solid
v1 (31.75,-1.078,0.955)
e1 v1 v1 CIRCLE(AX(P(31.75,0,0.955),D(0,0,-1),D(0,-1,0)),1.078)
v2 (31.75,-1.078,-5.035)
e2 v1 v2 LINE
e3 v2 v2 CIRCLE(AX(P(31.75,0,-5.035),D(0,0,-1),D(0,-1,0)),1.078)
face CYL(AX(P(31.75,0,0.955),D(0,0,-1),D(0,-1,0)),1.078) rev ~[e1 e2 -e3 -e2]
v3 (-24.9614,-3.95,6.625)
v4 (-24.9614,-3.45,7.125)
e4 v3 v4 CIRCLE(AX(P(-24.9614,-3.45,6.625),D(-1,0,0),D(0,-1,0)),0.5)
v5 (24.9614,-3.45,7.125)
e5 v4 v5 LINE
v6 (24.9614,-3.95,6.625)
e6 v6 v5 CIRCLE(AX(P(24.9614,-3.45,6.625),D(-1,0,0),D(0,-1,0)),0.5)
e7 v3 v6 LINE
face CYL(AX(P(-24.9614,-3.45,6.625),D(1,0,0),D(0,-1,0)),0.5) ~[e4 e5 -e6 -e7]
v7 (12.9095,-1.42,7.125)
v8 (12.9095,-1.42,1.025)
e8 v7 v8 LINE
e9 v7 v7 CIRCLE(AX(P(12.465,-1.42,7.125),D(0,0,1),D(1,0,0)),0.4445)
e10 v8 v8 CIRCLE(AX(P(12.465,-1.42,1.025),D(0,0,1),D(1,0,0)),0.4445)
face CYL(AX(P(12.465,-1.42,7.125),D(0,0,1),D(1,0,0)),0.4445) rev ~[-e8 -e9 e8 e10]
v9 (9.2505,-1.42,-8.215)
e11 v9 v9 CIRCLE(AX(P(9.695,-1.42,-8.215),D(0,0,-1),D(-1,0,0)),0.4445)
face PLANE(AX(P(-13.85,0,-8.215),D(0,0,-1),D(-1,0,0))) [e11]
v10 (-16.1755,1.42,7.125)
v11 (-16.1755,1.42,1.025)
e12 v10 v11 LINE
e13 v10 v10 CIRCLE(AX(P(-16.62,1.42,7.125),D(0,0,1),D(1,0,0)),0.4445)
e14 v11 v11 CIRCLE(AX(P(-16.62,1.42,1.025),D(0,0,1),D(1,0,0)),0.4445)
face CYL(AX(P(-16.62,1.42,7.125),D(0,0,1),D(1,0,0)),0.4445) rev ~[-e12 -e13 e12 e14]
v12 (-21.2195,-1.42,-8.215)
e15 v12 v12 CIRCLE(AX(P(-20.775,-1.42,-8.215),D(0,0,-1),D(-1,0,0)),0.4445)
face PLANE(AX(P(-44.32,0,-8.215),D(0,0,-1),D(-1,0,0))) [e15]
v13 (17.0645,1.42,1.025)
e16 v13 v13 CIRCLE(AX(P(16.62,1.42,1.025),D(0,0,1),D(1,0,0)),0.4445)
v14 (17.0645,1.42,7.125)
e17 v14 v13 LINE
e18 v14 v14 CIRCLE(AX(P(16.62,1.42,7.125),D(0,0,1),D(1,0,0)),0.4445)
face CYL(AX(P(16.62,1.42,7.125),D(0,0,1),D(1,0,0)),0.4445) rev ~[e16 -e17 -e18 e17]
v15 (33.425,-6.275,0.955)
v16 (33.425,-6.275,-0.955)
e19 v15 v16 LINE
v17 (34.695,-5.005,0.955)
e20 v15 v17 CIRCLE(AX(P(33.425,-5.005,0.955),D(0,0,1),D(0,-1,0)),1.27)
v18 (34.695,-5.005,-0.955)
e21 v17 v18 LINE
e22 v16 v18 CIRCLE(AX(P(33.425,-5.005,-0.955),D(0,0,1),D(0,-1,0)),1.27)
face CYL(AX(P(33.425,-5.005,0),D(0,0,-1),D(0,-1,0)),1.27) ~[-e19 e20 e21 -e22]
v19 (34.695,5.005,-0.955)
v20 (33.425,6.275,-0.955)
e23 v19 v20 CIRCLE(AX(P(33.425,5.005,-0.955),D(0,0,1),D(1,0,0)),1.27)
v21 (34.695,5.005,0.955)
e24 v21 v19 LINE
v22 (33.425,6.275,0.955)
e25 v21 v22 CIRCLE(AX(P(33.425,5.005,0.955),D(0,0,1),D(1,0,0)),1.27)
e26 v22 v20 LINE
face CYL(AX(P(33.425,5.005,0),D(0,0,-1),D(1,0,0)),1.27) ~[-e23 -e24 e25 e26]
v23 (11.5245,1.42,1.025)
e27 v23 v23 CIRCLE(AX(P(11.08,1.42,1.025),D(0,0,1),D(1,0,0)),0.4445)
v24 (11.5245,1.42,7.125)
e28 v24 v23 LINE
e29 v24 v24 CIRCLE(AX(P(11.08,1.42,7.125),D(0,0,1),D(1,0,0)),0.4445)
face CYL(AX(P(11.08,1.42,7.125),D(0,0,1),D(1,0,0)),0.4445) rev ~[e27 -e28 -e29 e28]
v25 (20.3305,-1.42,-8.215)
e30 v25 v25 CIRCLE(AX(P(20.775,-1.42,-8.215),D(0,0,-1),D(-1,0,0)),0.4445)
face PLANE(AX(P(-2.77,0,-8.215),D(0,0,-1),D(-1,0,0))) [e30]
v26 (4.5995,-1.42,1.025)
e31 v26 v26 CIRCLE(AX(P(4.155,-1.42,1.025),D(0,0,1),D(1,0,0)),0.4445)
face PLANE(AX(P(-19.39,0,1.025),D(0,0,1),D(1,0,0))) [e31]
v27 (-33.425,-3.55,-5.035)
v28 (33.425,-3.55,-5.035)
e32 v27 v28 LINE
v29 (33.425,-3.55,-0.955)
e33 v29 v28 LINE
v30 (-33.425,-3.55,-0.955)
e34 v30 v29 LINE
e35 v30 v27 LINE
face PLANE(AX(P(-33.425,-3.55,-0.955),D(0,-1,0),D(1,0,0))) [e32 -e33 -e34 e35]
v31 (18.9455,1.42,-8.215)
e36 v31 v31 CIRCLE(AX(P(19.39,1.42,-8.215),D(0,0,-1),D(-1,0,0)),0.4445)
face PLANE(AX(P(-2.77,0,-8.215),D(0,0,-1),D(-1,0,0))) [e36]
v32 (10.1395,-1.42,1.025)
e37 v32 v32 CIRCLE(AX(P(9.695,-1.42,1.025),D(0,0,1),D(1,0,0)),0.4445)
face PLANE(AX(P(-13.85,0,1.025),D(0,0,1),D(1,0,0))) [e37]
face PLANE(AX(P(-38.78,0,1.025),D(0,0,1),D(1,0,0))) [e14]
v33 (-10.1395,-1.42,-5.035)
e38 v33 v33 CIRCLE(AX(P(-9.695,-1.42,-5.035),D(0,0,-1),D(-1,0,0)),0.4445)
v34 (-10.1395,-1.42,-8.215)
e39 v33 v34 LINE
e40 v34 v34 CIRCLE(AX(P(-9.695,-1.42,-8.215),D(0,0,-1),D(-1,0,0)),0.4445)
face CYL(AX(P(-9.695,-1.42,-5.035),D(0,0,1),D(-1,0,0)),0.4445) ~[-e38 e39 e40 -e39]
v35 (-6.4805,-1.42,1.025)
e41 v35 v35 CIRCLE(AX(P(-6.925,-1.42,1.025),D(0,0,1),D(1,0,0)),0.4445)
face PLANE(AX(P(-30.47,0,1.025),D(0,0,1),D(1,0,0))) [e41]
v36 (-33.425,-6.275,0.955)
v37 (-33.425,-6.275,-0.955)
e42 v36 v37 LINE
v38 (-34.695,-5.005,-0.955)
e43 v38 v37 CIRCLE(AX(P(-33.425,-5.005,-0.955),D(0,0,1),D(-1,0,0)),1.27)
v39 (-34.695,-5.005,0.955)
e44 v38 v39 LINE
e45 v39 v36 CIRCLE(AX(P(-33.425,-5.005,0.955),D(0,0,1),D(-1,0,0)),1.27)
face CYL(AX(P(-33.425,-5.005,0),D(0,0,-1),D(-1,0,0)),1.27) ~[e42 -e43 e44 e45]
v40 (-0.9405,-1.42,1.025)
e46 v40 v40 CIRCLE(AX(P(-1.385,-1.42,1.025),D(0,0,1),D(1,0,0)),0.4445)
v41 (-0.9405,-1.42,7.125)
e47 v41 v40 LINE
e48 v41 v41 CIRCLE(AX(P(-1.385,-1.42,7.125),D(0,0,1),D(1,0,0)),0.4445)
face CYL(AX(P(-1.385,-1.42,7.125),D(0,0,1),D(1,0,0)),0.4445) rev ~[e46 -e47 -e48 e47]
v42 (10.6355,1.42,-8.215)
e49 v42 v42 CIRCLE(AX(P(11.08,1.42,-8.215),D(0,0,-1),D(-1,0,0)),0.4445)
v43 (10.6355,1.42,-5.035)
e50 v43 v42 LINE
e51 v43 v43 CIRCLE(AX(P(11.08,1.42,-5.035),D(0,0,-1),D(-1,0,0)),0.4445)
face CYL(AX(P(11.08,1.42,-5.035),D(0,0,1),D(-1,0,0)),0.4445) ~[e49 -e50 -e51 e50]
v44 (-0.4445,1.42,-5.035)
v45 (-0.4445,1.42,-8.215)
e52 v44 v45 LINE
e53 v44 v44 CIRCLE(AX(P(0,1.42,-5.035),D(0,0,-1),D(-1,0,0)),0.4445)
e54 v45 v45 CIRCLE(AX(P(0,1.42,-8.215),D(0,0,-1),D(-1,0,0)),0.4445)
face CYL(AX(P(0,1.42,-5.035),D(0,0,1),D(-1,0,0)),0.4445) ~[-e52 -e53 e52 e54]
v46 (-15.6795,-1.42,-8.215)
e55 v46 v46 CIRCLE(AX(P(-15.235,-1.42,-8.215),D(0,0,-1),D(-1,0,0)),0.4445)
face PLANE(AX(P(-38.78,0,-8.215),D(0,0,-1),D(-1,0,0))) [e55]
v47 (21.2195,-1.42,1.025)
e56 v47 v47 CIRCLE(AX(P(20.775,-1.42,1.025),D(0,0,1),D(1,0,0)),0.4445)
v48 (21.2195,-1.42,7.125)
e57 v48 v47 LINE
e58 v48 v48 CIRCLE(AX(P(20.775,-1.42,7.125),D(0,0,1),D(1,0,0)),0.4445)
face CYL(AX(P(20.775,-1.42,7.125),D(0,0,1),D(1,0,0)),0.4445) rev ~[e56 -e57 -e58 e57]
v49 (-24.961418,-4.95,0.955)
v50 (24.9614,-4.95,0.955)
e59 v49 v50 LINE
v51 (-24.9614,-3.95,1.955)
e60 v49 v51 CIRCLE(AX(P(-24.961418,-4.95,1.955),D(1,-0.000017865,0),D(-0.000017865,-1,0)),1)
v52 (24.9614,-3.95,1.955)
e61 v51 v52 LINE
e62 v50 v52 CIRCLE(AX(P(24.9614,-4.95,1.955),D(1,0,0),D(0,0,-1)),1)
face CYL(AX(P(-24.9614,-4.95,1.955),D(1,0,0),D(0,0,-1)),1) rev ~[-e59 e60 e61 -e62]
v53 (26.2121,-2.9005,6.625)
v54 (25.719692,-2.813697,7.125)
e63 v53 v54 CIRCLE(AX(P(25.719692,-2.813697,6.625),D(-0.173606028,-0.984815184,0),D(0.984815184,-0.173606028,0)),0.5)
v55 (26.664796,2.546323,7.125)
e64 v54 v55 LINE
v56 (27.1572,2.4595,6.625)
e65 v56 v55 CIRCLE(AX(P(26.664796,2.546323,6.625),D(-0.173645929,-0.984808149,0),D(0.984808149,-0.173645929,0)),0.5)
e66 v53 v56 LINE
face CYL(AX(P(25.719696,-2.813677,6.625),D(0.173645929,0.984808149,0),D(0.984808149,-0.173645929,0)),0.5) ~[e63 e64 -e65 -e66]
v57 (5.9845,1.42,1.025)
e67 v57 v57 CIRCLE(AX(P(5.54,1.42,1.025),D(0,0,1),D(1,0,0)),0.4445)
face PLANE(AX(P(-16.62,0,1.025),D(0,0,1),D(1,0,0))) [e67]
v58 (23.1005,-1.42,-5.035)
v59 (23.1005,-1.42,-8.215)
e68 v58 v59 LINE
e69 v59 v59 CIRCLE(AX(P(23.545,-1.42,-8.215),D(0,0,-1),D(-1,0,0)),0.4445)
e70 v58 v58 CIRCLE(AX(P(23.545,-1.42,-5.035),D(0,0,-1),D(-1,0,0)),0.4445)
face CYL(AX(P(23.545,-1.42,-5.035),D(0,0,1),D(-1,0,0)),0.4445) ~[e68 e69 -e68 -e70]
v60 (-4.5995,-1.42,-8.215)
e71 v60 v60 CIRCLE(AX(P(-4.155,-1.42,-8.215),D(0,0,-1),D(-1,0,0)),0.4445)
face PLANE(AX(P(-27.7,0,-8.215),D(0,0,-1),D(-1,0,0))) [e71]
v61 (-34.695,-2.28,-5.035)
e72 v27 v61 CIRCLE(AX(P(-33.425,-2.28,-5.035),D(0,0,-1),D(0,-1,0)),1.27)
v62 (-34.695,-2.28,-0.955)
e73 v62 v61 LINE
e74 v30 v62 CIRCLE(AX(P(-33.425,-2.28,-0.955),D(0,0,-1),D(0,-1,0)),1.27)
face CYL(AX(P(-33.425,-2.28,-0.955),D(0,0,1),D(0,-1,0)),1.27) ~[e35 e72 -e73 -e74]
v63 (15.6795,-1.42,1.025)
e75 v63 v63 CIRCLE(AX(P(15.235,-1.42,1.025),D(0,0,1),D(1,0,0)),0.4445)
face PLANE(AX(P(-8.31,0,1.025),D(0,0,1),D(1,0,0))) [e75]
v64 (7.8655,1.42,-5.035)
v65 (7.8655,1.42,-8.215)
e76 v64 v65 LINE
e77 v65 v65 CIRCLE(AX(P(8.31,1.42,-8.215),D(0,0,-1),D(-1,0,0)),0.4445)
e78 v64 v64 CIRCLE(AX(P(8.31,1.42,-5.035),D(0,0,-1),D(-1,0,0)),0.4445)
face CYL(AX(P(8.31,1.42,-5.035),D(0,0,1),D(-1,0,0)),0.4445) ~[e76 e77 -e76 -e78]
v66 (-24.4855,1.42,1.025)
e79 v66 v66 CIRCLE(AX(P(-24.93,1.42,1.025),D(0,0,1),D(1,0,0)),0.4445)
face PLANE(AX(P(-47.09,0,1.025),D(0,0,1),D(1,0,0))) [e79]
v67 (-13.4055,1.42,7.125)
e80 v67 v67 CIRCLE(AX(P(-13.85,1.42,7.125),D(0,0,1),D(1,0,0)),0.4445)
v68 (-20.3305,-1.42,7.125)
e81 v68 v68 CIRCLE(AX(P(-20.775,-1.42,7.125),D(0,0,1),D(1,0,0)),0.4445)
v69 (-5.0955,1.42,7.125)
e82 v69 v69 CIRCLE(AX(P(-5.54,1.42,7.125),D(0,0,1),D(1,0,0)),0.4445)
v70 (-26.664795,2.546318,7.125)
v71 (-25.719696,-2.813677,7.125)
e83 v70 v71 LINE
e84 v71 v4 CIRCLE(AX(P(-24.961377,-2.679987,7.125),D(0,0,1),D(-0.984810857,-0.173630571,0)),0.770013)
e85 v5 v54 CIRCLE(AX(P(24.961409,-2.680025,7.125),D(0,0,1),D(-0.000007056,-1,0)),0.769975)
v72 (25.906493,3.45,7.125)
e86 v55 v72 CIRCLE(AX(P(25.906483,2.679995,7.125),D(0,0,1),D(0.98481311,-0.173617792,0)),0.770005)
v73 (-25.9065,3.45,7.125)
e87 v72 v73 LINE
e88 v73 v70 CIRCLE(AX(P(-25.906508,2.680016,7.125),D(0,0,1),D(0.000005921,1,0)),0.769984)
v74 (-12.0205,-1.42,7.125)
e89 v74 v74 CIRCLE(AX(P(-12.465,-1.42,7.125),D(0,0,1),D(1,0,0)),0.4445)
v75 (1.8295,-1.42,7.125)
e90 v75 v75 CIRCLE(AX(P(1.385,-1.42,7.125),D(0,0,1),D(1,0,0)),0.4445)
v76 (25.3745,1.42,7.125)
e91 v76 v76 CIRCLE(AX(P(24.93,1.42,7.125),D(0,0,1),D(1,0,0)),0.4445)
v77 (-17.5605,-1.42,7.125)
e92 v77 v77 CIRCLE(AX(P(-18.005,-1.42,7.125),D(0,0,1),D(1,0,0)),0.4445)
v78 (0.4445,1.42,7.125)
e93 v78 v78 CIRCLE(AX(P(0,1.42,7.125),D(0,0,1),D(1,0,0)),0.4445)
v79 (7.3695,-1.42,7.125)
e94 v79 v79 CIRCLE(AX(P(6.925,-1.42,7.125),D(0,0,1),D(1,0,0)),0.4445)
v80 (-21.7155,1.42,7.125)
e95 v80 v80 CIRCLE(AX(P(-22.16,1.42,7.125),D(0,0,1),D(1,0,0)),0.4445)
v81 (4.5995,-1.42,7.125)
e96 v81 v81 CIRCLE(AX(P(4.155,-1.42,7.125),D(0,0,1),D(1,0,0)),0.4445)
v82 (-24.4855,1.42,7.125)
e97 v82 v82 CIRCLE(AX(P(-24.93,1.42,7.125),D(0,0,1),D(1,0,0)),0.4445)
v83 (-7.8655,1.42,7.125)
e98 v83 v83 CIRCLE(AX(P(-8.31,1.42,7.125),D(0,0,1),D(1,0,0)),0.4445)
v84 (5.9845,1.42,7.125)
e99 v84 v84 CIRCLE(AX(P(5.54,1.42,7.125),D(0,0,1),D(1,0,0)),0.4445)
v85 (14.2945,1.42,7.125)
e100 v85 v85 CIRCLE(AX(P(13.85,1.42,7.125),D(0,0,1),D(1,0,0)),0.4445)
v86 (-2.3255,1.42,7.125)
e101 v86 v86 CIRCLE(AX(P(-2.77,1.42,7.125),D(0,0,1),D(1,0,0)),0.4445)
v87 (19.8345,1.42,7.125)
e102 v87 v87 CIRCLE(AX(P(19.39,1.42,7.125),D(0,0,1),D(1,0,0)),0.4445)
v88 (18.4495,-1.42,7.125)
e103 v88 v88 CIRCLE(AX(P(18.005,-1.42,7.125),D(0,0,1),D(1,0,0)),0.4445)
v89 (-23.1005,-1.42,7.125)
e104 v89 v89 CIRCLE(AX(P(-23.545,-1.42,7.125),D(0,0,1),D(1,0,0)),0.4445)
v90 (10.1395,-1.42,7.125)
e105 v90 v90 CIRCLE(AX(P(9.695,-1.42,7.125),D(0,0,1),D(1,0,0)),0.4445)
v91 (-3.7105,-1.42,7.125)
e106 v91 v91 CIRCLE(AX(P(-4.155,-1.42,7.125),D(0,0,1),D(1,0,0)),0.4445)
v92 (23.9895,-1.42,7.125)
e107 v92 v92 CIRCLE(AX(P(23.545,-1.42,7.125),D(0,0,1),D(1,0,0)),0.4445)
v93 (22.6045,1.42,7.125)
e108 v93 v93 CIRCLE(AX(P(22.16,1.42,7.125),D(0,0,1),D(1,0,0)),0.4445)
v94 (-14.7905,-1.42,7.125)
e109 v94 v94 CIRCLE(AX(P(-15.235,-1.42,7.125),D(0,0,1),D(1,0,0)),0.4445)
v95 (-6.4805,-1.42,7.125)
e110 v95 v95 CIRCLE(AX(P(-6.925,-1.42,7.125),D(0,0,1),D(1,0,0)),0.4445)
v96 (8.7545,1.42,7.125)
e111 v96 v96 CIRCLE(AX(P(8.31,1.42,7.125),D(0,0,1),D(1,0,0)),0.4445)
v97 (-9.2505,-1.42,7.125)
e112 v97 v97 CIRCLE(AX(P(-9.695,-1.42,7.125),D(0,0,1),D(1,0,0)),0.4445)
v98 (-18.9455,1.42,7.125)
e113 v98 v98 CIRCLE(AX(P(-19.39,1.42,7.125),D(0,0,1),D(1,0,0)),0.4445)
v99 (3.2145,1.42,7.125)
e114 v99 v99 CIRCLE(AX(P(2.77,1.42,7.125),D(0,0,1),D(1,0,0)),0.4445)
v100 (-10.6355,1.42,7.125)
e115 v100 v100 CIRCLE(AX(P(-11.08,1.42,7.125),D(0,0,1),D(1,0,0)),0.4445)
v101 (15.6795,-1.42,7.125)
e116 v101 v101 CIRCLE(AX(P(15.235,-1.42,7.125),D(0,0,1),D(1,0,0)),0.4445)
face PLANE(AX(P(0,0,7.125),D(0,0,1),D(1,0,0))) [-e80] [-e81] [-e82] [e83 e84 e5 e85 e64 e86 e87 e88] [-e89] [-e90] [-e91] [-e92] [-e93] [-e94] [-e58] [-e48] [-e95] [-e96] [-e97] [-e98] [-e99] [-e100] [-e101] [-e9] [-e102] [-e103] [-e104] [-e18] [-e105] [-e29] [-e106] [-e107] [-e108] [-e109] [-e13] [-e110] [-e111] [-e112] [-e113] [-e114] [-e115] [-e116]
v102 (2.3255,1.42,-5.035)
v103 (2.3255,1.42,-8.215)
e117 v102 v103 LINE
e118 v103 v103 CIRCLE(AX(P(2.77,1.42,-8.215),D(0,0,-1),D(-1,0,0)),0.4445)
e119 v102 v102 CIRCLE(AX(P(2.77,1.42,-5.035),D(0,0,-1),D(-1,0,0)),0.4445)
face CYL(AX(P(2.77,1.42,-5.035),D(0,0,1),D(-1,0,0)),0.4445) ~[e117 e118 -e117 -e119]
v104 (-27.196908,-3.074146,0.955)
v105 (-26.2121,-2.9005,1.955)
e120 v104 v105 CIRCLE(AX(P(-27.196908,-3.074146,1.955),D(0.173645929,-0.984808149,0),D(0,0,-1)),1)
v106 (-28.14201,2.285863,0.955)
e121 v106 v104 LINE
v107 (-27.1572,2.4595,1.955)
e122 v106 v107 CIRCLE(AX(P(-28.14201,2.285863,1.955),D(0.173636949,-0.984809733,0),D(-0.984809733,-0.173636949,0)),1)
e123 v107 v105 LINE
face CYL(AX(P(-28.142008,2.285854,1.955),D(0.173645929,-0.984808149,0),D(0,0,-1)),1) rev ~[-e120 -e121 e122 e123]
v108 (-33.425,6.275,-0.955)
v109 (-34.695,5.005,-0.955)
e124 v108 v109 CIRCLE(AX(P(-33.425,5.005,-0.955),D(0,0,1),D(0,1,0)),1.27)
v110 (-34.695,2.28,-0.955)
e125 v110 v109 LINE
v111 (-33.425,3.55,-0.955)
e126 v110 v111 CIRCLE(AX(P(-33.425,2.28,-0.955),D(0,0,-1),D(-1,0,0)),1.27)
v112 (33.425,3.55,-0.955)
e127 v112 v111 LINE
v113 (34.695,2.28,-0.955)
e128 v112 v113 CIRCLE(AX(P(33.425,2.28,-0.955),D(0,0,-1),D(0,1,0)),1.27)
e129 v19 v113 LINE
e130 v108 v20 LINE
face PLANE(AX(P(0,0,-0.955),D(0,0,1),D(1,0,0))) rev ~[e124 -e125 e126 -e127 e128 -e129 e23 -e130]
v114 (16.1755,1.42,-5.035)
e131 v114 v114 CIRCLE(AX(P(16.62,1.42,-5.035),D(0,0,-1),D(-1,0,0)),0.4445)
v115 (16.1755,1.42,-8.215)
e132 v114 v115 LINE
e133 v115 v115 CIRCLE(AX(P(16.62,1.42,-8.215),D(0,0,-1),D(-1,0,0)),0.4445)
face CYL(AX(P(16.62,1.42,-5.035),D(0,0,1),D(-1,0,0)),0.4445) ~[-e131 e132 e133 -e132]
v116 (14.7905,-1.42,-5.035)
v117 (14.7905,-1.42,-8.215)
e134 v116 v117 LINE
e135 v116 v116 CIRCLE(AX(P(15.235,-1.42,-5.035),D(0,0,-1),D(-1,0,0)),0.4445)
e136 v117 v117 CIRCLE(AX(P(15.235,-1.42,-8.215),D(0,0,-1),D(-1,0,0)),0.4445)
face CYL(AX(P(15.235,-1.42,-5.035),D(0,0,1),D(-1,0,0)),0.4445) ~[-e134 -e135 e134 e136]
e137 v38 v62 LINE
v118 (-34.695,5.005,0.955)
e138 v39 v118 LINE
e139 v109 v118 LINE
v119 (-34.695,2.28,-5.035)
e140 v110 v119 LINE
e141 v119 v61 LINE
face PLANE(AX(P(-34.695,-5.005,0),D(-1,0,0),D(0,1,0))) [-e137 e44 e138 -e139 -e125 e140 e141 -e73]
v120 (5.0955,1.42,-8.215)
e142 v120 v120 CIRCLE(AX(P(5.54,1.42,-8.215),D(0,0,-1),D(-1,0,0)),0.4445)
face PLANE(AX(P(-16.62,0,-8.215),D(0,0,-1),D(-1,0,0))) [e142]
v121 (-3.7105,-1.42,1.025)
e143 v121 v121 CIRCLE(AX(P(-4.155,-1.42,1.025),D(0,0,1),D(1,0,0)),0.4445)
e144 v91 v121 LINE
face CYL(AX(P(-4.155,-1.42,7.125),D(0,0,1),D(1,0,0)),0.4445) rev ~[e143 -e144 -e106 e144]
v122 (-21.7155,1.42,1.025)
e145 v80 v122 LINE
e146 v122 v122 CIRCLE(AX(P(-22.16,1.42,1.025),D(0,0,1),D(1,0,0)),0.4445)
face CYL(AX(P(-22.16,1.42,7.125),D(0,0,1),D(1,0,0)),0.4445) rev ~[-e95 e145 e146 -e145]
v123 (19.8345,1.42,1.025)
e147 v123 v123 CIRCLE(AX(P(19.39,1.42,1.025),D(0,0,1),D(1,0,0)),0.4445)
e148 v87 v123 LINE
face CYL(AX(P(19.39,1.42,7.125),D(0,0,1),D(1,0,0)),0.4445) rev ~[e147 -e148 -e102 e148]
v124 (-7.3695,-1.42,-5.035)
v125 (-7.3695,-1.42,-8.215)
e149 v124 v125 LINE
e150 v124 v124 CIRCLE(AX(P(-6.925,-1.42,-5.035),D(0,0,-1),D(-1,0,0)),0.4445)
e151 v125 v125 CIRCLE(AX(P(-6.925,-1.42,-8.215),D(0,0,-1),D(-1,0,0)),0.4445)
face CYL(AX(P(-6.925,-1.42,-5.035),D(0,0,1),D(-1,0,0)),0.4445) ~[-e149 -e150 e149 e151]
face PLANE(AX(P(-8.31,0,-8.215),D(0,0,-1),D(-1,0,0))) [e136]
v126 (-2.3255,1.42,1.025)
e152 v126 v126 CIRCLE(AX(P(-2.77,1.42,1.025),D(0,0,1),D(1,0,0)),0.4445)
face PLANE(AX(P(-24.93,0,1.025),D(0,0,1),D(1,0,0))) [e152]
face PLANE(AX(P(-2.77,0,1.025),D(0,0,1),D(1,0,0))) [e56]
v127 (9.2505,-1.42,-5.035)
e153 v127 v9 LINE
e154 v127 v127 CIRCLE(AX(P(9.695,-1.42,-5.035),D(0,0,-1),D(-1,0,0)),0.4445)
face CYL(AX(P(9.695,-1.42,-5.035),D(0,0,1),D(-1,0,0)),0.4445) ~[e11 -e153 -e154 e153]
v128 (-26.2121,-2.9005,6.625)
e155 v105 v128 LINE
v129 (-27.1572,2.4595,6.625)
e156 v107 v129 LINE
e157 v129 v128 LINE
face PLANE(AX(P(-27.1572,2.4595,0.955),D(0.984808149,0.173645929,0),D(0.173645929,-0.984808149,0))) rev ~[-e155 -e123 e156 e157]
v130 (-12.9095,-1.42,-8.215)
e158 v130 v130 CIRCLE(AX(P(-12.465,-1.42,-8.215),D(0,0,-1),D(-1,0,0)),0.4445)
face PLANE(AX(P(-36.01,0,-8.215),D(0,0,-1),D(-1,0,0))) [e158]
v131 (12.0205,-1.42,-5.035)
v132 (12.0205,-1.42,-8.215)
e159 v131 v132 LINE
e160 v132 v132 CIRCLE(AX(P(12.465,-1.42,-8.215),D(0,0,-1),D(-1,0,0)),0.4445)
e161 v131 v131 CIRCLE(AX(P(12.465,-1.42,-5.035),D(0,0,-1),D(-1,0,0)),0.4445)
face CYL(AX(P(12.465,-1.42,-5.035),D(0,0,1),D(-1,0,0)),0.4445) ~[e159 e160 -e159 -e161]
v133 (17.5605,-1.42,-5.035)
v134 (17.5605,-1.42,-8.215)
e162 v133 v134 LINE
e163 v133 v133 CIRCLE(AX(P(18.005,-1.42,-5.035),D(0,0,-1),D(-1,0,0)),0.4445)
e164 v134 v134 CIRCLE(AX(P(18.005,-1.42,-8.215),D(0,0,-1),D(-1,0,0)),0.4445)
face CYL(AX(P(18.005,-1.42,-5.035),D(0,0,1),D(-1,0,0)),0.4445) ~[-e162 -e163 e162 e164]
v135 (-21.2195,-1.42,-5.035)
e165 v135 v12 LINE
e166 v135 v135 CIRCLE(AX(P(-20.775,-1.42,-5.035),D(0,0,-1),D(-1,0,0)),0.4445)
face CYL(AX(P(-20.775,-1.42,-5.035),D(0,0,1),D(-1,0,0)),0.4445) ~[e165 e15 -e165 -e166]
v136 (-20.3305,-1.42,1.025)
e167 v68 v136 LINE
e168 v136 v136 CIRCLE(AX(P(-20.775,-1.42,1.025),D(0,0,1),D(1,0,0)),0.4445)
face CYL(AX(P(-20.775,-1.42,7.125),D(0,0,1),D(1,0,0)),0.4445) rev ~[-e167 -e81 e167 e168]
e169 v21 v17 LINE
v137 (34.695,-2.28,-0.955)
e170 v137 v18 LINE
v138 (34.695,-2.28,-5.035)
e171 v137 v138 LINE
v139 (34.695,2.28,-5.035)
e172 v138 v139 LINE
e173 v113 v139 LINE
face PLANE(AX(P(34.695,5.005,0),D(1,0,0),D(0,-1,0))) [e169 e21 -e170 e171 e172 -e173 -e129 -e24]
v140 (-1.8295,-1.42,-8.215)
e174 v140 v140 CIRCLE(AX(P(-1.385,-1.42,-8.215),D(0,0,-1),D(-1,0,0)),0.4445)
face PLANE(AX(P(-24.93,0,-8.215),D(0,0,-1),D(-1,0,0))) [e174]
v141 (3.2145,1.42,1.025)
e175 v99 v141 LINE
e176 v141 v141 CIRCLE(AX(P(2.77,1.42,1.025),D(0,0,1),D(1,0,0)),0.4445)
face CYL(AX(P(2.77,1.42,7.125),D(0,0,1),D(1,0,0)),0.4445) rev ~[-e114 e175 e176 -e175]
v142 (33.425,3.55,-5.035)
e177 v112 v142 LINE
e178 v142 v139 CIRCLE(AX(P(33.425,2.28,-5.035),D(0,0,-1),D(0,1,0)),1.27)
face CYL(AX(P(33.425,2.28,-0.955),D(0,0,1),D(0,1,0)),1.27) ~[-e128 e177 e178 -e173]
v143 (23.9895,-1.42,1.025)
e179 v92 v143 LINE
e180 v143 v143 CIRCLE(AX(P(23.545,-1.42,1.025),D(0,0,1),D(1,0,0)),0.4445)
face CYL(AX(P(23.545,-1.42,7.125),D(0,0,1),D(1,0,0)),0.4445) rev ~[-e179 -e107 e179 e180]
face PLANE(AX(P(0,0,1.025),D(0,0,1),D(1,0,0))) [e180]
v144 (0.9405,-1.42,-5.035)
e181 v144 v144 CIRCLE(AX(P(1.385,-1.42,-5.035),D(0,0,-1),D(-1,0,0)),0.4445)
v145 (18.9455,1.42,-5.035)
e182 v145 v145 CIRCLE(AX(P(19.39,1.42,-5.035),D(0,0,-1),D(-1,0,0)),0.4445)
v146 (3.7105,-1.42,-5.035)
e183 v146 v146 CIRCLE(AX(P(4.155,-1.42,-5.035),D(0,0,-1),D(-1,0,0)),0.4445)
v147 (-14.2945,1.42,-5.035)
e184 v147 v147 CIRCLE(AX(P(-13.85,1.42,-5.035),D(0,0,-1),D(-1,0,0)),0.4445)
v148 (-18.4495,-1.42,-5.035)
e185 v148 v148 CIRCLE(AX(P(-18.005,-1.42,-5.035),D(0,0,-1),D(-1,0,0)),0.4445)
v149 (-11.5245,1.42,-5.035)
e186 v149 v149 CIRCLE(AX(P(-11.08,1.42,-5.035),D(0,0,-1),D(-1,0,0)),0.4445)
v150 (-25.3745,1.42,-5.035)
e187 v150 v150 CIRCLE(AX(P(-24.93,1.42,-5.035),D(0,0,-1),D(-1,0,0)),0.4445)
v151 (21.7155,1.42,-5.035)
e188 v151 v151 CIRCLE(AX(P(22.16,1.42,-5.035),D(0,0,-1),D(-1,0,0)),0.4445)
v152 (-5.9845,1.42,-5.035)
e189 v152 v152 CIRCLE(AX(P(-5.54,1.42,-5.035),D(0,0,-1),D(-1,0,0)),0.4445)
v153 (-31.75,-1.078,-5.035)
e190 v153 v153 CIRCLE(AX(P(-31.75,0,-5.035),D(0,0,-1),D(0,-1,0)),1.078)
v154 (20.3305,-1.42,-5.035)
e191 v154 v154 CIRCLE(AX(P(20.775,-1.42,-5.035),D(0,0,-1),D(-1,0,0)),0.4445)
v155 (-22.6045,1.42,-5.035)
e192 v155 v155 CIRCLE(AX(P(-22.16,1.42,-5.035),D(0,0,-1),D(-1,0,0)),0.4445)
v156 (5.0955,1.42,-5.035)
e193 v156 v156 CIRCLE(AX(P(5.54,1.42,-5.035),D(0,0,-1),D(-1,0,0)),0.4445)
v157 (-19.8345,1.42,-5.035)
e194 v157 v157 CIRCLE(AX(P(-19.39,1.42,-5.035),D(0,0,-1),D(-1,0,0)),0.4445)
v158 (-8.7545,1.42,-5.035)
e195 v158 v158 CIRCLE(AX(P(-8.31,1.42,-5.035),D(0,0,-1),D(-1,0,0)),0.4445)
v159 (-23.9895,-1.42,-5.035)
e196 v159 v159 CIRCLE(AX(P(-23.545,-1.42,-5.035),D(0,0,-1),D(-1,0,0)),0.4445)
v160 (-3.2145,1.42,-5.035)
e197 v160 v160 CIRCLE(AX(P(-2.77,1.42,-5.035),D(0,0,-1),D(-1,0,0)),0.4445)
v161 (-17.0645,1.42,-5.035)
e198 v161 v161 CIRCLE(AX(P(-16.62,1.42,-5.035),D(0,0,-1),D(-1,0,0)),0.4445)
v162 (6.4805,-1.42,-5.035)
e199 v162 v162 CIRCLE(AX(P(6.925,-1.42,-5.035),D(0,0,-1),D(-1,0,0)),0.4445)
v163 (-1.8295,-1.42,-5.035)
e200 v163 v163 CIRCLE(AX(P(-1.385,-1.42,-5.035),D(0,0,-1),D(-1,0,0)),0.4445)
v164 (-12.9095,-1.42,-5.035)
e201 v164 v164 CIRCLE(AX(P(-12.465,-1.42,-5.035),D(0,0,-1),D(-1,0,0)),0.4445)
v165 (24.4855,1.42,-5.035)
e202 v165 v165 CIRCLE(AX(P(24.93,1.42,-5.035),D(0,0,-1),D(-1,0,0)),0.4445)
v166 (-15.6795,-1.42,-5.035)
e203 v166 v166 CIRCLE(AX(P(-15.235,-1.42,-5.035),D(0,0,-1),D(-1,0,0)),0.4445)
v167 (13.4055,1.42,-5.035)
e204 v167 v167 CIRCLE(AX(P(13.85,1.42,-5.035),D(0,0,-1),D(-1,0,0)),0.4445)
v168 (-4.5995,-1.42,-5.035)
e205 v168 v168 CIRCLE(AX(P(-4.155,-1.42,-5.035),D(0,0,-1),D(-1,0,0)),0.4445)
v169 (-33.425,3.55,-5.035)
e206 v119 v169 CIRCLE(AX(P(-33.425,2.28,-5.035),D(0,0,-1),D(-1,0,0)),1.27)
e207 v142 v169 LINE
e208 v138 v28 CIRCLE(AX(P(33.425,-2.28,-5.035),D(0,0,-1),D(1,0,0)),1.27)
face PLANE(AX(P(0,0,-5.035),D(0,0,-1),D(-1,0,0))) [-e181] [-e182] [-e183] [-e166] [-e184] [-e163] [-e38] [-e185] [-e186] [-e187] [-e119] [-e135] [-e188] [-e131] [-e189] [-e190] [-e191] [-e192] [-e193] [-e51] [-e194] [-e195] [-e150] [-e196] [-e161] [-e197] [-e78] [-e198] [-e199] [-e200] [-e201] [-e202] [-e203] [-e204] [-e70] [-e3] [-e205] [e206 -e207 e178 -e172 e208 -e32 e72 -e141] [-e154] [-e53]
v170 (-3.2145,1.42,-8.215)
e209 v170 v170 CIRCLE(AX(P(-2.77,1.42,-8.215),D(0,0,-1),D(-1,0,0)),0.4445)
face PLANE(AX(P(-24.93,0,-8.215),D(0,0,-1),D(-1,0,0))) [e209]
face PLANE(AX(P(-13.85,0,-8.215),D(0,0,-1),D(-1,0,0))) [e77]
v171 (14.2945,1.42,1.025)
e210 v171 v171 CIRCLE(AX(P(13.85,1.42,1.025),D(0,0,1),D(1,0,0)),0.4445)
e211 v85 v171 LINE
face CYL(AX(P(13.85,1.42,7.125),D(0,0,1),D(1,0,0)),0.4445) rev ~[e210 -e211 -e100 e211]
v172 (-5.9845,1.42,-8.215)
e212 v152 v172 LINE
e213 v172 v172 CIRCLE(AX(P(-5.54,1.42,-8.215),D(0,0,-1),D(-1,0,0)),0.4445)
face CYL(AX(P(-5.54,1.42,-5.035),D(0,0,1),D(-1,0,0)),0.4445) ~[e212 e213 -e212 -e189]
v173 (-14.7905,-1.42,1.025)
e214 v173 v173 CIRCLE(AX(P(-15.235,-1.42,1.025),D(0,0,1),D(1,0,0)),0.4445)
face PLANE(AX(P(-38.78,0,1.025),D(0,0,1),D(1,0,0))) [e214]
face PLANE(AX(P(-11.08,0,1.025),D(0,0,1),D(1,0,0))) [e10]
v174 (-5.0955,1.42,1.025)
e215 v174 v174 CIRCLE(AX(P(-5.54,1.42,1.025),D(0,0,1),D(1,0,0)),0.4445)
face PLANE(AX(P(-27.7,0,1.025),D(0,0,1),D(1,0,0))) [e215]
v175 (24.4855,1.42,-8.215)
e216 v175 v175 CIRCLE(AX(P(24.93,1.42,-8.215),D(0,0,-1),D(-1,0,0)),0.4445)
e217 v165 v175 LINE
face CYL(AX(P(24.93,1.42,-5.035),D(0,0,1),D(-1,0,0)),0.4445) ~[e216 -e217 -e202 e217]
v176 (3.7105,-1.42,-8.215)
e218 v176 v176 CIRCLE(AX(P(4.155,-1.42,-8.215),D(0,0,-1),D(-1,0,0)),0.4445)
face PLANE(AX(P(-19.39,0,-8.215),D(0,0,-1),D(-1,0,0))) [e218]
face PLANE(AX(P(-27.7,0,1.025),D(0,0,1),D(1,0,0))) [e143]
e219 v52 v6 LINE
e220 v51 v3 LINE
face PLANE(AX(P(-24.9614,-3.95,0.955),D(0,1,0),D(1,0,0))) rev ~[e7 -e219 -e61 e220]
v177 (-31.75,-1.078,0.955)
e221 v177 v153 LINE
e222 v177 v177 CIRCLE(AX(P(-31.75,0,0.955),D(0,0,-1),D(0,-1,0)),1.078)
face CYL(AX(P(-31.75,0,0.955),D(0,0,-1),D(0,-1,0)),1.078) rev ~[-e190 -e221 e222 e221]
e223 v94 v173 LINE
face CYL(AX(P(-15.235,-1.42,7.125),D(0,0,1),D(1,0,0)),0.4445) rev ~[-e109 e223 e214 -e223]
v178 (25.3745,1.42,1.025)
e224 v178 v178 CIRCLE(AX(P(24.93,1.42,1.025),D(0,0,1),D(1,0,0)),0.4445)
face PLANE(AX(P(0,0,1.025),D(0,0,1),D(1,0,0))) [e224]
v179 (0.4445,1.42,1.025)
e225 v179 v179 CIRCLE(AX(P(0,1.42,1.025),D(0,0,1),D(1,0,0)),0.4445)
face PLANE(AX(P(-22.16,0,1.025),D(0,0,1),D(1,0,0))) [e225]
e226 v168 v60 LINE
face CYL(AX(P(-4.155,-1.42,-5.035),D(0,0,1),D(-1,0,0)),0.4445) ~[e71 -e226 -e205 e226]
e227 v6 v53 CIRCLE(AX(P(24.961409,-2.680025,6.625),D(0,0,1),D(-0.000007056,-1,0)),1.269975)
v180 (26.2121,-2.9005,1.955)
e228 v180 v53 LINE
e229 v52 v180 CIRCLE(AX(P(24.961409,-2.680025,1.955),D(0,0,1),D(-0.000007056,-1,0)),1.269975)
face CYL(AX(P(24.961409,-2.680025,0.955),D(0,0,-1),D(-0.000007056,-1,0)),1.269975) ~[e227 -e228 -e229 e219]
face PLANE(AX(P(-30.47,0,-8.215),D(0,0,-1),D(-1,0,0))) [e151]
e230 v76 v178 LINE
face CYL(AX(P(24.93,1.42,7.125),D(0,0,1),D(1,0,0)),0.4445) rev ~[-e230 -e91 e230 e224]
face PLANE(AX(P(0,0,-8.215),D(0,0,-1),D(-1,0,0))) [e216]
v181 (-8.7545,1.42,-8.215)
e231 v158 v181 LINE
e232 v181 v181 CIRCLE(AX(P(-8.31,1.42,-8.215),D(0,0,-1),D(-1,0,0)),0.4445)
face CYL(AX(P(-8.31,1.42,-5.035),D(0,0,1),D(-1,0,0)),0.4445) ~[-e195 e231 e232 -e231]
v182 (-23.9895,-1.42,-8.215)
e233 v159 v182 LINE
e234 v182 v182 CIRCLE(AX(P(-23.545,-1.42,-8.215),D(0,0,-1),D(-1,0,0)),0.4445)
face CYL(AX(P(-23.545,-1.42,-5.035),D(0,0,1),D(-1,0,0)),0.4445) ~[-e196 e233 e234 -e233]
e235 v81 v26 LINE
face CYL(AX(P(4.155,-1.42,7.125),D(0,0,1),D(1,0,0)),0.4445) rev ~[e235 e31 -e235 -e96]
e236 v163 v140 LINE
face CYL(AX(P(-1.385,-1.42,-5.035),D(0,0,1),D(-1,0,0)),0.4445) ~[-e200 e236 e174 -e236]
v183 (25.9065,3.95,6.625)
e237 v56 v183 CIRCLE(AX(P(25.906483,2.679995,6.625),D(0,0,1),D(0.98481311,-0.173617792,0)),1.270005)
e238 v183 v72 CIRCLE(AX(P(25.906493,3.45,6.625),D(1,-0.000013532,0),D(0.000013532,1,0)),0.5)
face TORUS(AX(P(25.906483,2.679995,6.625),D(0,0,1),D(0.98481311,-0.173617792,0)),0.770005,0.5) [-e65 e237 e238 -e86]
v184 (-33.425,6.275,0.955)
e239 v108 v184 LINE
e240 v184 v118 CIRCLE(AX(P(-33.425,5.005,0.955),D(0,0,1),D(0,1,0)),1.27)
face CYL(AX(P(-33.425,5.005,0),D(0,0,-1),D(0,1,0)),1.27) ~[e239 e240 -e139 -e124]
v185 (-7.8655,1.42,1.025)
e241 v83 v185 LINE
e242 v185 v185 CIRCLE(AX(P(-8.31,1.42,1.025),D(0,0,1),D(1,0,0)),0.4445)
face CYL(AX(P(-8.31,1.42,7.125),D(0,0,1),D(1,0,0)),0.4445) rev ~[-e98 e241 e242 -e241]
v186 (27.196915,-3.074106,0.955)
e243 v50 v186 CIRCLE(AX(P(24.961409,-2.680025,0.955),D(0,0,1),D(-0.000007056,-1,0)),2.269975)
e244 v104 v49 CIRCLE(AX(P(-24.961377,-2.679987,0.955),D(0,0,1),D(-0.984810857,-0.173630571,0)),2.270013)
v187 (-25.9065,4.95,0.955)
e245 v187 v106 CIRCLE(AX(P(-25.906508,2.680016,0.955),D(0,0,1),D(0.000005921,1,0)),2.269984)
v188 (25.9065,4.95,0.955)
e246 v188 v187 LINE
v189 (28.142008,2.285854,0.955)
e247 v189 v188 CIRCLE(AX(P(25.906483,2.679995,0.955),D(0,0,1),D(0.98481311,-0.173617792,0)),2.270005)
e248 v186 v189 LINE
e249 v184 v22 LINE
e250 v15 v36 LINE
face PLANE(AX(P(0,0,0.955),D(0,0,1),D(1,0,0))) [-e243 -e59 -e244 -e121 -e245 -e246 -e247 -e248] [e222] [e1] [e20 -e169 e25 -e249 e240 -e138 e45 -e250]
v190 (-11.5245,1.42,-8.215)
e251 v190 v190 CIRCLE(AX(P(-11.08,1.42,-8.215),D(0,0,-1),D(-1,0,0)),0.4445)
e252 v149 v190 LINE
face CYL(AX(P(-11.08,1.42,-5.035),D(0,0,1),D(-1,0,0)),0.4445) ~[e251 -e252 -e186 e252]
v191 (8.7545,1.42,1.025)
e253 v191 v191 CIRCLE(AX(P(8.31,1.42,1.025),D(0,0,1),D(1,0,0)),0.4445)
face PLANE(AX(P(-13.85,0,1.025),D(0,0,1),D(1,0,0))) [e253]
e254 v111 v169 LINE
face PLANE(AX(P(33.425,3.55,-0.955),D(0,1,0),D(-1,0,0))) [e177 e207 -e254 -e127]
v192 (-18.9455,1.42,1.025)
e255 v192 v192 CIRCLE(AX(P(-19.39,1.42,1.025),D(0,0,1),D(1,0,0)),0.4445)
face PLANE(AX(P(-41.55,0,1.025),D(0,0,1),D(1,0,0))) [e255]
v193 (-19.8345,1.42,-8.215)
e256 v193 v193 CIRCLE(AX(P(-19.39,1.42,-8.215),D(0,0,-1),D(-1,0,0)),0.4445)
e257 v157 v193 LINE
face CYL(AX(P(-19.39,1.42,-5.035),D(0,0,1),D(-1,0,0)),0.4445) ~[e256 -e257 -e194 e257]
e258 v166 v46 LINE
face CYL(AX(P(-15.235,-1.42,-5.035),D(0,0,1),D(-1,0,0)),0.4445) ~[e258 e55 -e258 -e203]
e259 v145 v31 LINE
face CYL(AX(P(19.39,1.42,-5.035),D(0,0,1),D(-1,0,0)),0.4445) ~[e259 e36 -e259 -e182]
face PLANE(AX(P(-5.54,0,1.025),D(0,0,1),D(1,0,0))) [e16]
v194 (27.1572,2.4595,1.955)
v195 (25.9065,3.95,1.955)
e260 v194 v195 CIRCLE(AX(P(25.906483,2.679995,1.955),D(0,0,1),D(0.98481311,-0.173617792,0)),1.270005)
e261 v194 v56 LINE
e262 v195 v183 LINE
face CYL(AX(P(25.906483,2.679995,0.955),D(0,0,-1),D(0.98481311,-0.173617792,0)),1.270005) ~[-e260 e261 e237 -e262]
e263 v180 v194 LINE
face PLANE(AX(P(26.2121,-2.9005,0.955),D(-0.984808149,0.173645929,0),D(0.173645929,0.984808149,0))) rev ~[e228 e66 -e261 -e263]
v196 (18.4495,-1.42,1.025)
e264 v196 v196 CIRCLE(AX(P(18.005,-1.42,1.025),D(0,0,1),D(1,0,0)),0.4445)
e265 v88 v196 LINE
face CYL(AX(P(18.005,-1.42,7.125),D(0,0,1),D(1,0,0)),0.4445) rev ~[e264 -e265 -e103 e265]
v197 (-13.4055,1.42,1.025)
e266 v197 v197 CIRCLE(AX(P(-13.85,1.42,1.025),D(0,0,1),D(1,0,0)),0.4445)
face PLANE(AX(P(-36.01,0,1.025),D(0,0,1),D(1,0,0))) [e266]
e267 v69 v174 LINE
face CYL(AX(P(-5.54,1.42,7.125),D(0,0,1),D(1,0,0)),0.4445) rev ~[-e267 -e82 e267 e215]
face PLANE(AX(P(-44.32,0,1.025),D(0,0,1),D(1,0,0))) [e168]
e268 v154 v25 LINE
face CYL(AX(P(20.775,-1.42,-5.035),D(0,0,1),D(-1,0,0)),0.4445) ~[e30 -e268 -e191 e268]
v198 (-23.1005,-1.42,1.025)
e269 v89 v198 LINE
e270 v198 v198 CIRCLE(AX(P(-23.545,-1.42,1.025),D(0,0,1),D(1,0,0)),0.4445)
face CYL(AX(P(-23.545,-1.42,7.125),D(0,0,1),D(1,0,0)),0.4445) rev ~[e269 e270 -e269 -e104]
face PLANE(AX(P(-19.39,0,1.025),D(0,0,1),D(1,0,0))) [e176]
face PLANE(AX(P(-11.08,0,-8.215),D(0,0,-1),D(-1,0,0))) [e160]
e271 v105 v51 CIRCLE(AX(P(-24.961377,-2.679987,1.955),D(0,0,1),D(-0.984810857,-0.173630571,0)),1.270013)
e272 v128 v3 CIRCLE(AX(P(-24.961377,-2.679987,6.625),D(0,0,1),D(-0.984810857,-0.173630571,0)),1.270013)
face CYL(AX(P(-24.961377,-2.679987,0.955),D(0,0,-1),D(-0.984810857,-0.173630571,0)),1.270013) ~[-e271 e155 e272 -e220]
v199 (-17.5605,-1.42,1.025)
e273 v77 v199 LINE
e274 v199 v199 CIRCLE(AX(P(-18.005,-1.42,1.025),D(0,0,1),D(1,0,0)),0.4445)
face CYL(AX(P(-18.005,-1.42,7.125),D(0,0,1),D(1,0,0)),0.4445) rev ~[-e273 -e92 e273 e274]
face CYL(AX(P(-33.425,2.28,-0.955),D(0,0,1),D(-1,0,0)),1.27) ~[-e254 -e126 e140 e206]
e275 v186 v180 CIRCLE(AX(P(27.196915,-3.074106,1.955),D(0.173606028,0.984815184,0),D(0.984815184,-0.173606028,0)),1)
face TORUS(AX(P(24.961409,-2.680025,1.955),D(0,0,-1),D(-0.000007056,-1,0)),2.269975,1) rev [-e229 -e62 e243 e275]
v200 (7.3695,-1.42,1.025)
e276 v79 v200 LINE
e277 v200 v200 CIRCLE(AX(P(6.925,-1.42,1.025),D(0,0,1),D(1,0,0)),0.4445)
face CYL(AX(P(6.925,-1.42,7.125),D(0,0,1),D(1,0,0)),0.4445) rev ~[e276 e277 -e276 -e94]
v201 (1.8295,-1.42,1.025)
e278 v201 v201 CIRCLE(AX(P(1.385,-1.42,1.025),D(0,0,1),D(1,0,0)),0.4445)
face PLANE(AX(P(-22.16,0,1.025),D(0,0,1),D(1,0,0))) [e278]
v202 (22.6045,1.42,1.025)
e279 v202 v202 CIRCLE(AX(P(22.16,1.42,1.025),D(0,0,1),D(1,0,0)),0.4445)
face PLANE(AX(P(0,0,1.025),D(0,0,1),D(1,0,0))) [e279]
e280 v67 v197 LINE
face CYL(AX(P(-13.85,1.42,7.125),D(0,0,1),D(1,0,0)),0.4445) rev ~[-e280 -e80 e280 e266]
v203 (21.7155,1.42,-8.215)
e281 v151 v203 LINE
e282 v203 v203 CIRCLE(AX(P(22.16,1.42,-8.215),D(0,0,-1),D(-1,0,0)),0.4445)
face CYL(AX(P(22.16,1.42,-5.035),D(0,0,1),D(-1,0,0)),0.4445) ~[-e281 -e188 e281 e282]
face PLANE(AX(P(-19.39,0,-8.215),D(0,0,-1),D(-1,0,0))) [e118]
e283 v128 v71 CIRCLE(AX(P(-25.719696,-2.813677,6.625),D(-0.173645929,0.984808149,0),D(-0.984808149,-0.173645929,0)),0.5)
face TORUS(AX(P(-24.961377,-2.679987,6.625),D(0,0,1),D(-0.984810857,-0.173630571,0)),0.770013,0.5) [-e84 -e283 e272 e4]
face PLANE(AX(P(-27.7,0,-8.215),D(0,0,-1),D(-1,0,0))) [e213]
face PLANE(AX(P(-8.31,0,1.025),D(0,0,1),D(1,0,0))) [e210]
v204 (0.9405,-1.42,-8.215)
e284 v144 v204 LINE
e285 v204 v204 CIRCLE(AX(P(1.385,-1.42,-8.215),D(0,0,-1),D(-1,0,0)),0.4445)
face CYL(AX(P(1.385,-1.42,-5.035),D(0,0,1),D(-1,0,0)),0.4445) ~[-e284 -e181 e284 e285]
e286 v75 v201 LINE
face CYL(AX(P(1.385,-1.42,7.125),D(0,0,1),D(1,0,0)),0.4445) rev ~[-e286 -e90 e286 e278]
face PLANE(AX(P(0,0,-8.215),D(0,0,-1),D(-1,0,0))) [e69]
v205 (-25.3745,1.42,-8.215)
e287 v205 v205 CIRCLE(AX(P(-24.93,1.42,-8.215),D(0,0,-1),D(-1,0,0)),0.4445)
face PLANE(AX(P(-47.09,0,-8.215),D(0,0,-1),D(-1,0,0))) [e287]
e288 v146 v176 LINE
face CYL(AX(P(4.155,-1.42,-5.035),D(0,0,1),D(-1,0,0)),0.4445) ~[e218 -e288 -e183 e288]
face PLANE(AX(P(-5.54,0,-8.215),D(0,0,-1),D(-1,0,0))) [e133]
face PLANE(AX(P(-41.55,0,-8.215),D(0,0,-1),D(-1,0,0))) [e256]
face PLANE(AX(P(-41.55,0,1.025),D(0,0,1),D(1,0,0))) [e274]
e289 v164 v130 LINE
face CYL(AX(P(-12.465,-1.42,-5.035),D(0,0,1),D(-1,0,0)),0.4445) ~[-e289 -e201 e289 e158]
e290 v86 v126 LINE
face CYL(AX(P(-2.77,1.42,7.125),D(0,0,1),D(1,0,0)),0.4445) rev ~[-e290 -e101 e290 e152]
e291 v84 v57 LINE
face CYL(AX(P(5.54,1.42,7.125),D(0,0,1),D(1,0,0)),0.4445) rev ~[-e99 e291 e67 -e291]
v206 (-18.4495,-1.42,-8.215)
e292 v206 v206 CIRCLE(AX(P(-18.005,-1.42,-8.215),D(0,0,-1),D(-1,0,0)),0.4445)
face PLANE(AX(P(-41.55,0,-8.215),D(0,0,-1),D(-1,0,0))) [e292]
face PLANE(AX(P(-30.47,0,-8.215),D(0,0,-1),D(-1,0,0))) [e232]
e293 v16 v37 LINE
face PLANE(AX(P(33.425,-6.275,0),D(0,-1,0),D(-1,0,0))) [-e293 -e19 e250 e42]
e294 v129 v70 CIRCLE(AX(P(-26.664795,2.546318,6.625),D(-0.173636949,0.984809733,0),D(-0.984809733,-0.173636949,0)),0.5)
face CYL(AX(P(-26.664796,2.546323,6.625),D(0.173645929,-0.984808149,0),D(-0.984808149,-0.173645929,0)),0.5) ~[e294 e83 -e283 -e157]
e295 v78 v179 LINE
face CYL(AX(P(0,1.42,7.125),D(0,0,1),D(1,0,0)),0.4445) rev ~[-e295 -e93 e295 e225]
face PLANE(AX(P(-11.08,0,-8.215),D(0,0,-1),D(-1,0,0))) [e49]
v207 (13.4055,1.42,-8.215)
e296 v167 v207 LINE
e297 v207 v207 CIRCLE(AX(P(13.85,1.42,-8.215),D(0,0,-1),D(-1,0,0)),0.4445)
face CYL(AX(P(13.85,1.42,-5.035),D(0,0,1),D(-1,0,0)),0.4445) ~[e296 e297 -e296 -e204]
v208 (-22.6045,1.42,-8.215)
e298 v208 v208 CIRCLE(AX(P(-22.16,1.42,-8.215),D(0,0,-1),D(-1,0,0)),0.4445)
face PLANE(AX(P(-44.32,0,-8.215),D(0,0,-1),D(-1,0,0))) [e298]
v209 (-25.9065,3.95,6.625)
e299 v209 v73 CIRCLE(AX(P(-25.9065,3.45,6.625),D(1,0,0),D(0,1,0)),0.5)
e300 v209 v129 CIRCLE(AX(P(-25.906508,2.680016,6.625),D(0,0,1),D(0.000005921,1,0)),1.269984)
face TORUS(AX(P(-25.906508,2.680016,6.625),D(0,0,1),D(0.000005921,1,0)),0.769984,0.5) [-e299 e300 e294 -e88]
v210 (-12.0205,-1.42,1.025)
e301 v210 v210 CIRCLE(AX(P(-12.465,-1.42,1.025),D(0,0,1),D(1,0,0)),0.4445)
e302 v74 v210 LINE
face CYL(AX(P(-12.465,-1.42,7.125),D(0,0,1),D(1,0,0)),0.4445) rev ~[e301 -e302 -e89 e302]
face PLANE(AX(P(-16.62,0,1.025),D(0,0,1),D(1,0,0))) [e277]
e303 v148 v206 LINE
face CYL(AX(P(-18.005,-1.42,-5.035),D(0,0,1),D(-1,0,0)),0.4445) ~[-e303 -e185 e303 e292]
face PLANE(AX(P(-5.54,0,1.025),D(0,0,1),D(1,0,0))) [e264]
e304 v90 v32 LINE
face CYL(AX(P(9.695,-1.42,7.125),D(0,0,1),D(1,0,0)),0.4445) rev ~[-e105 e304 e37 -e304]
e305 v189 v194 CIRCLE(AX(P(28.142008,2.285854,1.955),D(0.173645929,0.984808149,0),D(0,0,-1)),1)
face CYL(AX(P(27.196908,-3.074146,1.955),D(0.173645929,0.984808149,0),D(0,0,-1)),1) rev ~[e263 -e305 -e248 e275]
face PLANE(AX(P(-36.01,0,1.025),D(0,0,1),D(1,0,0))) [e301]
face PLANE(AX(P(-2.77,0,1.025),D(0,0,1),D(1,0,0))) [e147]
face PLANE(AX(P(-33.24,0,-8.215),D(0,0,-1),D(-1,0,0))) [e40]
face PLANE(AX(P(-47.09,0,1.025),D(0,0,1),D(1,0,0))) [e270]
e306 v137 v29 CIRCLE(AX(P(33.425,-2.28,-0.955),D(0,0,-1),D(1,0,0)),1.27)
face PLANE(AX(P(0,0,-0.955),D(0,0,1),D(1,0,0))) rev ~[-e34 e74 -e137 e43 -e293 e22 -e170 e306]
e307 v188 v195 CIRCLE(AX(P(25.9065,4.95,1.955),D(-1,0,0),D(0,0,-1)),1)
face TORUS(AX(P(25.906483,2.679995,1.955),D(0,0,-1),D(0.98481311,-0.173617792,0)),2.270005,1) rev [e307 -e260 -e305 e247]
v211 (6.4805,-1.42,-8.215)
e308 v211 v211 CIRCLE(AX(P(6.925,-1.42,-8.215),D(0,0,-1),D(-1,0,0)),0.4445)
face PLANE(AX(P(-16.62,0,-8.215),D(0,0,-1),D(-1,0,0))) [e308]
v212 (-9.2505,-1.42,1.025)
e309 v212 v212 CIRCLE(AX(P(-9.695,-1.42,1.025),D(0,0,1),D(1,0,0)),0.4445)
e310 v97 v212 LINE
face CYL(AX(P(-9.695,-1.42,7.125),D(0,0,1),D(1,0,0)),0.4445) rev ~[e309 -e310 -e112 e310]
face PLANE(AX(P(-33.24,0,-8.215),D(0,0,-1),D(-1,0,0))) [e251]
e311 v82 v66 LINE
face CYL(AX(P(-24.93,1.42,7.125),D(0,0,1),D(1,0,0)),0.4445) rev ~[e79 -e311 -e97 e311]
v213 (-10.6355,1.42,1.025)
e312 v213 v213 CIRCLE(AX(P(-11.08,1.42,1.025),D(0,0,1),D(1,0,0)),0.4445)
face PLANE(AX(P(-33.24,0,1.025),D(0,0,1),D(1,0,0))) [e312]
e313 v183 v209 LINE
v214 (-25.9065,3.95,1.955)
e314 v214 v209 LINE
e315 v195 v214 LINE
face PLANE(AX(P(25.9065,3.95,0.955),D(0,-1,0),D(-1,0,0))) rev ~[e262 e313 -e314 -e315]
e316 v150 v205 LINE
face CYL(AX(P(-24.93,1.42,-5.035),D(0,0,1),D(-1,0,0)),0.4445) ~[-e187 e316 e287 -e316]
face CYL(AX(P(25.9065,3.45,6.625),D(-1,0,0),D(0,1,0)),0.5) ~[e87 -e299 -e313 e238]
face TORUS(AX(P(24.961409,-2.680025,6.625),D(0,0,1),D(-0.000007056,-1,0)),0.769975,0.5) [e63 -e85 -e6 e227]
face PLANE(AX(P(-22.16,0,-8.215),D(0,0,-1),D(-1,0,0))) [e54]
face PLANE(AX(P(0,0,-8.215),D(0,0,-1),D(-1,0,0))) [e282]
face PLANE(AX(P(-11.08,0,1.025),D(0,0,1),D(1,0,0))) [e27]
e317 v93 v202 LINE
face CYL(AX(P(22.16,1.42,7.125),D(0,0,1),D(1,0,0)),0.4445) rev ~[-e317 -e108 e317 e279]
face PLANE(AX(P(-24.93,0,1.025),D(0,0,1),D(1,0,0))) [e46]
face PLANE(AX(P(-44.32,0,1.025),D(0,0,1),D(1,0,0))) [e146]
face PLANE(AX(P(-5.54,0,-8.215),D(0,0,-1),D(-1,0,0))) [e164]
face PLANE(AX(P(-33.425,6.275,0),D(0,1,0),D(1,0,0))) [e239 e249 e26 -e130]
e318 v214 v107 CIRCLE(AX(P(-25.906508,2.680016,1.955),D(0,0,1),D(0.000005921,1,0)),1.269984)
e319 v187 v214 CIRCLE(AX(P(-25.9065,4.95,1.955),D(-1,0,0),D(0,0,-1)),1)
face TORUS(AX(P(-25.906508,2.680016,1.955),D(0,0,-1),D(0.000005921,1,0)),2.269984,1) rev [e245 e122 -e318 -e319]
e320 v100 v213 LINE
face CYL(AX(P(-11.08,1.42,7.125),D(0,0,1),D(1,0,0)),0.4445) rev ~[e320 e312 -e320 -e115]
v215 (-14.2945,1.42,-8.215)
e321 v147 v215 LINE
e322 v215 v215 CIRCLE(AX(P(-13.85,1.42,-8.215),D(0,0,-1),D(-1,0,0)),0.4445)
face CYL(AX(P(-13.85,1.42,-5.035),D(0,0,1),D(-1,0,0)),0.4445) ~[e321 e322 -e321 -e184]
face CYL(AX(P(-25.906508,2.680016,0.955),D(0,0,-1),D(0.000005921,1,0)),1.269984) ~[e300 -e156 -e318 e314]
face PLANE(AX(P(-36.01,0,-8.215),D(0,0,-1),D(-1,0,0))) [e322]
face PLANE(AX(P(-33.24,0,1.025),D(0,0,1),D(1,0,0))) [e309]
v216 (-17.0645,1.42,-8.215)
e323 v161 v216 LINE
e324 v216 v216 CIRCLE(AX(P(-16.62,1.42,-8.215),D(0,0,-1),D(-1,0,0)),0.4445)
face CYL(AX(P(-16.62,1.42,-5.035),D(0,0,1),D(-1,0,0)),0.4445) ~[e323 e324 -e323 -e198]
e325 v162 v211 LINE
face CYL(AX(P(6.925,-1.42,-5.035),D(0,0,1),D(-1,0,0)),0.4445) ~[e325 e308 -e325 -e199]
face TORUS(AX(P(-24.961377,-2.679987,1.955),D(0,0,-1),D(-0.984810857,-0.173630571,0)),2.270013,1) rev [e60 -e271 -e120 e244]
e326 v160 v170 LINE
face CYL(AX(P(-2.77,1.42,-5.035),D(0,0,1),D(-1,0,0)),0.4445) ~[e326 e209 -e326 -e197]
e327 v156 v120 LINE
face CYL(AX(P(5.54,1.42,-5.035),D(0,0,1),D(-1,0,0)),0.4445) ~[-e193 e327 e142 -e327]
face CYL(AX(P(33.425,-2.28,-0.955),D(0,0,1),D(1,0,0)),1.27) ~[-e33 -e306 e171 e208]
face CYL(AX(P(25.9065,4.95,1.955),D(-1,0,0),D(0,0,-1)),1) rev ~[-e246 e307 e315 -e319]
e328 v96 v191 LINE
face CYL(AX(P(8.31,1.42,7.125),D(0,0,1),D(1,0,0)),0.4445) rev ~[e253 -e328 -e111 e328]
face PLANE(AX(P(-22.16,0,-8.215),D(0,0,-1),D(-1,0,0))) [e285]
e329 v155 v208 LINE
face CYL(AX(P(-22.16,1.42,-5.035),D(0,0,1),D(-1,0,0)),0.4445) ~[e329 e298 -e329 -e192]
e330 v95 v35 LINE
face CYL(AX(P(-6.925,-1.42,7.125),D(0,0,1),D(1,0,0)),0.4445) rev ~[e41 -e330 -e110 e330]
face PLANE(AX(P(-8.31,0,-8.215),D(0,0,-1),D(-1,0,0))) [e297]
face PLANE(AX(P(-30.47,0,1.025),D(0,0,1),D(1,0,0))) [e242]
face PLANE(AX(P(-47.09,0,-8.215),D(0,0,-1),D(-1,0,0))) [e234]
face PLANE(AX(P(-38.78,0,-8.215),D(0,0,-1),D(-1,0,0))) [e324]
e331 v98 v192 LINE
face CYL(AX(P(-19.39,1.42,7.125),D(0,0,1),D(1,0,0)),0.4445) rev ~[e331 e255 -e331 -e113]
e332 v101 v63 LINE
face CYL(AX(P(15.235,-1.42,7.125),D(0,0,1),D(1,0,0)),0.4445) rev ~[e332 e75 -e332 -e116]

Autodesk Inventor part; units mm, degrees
ref_plane "YZ Plane" through (0, 0, 0) normal (1, 0, 0) x (0, 1, 0)
ref_plane "XZ Plane" through (0, 0, 0) normal (0, 1, 0) x (-1, 0, 0)
ref_plane "XY Plane" through (0, 0, 0) normal (0, 0, 1) x (1, 0, 0)
sketch "Sketch1" plane through (0, 0, 0) normal (0, 0, 1) x (1, 0, 0)
  line L0 (0, 9.1532) -> (0, -9.1532) construction
  line L1 (-48.9412, 0) -> (48.9412, 0) construction
  line L2 (-33.425, 6.275) -> (33.425, 6.275)
  line L3 (34.695, 5.005) -> (34.695, -5.005)
  line L4 (33.425, -6.275) -> (-33.425, -6.275)
  line L5 (-34.695, -5.005) -> (-34.695, 5.005)
  arc A0 (-33.425, 6.275) -> (-34.695, 5.005) centre (-33.425, 5.005) ccw
  arc A1 (-34.695, -5.005) -> (-33.425, -6.275) centre (-33.425, -5.005) ccw
  arc A2 (33.425, -6.275) -> (34.695, -5.005) centre (33.425, -5.005) ccw
  arc A3 (34.695, 5.005) -> (33.425, 6.275) centre (33.425, 5.005) ccw
  point P0 (-34.695, 6.275)
  point P1 (34.695, -6.275)
  point P2 (34.695, 6.275)
  point P3 (-34.695, -6.275)
  dimension "d0" = 69.39
  dimension "d1" = 12.55
  dimension "d6" = 1.27
extrude "Base Flange" add sketch "Sketch1" along normal mid plane 1.91
sketch "Sketch2" plane through (0, 0, 0.955) normal (0, 0, 1) x (1, 0, 0)
  line L0 (34.695, 5.005) -> (34.695, -5.005) projected
  line L1 (-27.1572, 2.4595) -> (-26.2121, -2.9005)
  line L2 (-24.9614, -3.95) -> (24.9614, -3.95)
  line L3 (26.2121, -2.9005) -> (27.1572, 2.4595)
  line L4 (25.9065, 3.95) -> (-25.9065, 3.95)
  line L5 (-48.573, 0) -> (48.573, 0) construction
  line L6 (0, 8.785) -> (0, -8.785) construction
  arc A0 (-25.9065, 3.95) -> (-27.1572, 2.4595) centre (-25.9065, 2.68) ccw
  arc A1 (-26.2121, -2.9005) -> (-24.9614, -3.95) centre (-24.9614, -2.68) ccw
  arc A2 (24.9614, -3.95) -> (26.2121, -2.9005) centre (24.9614, -2.68) ccw
  arc A3 (27.1572, 2.4595) -> (25.9065, 3.95) centre (25.9065, 2.68) ccw
  point P0 (-27.42, 3.95)
  point P1 (27.42, 3.95)
  dimension "d7" = 7.9
  dimension "d8" = 54.84
  dimension "d9" = 10
  dimension "d10" = 1.27
extrude "Socket Side Boss Housing" add sketch "Sketch2" along normal blind 6.17
sketch "Sketch3" plane through (0, 0, -0.955) normal (0, 0, -1) x (-1, 0, 0)
  line L0 (-33.425, 3.55) -> (33.425, 3.55)
  line L1 (34.695, 2.28) -> (34.695, -2.28)
  line L2 (33.425, -3.55) -> (-33.425, -3.55)
  line L3 (-34.695, -2.28) -> (-34.695, 2.28)
  line L4 (0, -8.785) -> (0, 8.785) construction
  line L5 (-48.9412, 0) -> (48.9412, 0) construction
  arc A0 (-33.425, 3.55) -> (-34.695, 2.28) centre (-33.425, 2.28) ccw
  arc A1 (-34.695, -2.28) -> (-33.425, -3.55) centre (-33.425, -2.28) ccw
  arc A2 (33.425, -3.55) -> (34.695, -2.28) centre (33.425, -2.28) ccw
  arc A3 (34.695, 2.28) -> (33.425, 3.55) centre (33.425, 2.28) ccw
  line L6 (-34.695, -5.005) -> (-34.695, 5.005) construction
  point P0 (-34.695, 3.55)
  point P1 (34.695, 3.55)
  point P2 (-34.695, -3.55)
  dimension "d13" = 7.1
  dimension "d15" = 1.27
extrude "Board Side Plastic Boss" add sketch "Sketch3" along normal blind 4.08
sketch "Sketch7" plane through (0, 0, 0.955) normal (0, 0, 1) x (1, 0, 0)
  line L0 (0, 9.1532) -> (0, -9.1532) projected
  line L1 (-48.9412, 0) -> (48.9412, 0) construction
  point P0 (0, 0)
  point P1 (-31.75, 0)
  point P2 (31.75, 0)
  dimension "d39" = 63.5
hole "Hole1" at (-31.75, 0, 0.955) at (31.75, 0, 0.955) direction (0, 0, -1) diameter 2.156 end through all thread size "4-40 UNC" class "2B" standard "ANSI Unified Screw Threads"
sketch "Sketch5" plane through (0, 0, -5.035) normal (0, 0, -1) x (-1, 0, 0)
  circle A0 centre (-24.93, 1.42) radius 0.4445
  circle A1 centre (-23.545, -1.42) radius 0.4445
  line L0 (-48.573, 0) -> (48.573, 0) construction
  line L1 (0, -8.785) -> (0, 8.785) construction
  circle A2 centre (-22.16, 1.42) radius 0.4445
  dimension "d23" = 2.84
  dimension "d25" = 0.889
  dimension "d26" = 2.77
  dimension "d27" = 1.385
  dimension "d28" = 1.42
  dimension "d29" = 24.93
extrude "Pin Extrusion" add sketch "Sketch5" along normal blind 3.18
sketch "Sketch6" plane through (0, 0, 7.125) normal (0, 0, 1) x (1, 0, 0)
  circle A0 centre (24.93, 1.42) radius 0.4445 projected
  circle A1 centre (23.545, -1.42) radius 0.4445 projected
  circle A2 centre (22.16, 1.42) radius 0.4445 projected
extrude "Socket Cut" cut sketch "Sketch6" against normal blind 6.1
pattern_linear "Pin and Hole Pattern" count 18 spacing 2.77 along (-1, 0, 0) of "Pin Extrusion", "Socket Cut"
fillet "Fillets" radius 1 8 edges at (0, 3.95, 0.955) (26.8793, 3.4963, 0.955) (26.6846, -0.2205, 0.955) (25.7777, -3.6529, 0.955) (0, -3.95, 0.955) (-25.7777, -3.6529, 0.955) (-26.6846, -0.2205, 0.955) (-26.8793, 3.4963, 0.955)
fillet "Fillets" radius 0.5 8 edges at (0, -3.95, 7.125) (-25.7777, -3.6529, 7.125) (-26.6846, -0.2205, 7.125) (-26.8793, 3.4963, 7.125) (0, 3.95, 7.125) (26.8793, 3.4963, 7.125) (26.6846, -0.2205, 7.125) (25.7777, -3.6529, 7.125)
equation "\"d27\" = 0.5 * d26"
equation "\"d28\" = 0.5 * d23"
equation "\"d29\" = 9 * d26"
equation "\"d36\" = d26"
properties part number "DB37-_0_6960_J"
